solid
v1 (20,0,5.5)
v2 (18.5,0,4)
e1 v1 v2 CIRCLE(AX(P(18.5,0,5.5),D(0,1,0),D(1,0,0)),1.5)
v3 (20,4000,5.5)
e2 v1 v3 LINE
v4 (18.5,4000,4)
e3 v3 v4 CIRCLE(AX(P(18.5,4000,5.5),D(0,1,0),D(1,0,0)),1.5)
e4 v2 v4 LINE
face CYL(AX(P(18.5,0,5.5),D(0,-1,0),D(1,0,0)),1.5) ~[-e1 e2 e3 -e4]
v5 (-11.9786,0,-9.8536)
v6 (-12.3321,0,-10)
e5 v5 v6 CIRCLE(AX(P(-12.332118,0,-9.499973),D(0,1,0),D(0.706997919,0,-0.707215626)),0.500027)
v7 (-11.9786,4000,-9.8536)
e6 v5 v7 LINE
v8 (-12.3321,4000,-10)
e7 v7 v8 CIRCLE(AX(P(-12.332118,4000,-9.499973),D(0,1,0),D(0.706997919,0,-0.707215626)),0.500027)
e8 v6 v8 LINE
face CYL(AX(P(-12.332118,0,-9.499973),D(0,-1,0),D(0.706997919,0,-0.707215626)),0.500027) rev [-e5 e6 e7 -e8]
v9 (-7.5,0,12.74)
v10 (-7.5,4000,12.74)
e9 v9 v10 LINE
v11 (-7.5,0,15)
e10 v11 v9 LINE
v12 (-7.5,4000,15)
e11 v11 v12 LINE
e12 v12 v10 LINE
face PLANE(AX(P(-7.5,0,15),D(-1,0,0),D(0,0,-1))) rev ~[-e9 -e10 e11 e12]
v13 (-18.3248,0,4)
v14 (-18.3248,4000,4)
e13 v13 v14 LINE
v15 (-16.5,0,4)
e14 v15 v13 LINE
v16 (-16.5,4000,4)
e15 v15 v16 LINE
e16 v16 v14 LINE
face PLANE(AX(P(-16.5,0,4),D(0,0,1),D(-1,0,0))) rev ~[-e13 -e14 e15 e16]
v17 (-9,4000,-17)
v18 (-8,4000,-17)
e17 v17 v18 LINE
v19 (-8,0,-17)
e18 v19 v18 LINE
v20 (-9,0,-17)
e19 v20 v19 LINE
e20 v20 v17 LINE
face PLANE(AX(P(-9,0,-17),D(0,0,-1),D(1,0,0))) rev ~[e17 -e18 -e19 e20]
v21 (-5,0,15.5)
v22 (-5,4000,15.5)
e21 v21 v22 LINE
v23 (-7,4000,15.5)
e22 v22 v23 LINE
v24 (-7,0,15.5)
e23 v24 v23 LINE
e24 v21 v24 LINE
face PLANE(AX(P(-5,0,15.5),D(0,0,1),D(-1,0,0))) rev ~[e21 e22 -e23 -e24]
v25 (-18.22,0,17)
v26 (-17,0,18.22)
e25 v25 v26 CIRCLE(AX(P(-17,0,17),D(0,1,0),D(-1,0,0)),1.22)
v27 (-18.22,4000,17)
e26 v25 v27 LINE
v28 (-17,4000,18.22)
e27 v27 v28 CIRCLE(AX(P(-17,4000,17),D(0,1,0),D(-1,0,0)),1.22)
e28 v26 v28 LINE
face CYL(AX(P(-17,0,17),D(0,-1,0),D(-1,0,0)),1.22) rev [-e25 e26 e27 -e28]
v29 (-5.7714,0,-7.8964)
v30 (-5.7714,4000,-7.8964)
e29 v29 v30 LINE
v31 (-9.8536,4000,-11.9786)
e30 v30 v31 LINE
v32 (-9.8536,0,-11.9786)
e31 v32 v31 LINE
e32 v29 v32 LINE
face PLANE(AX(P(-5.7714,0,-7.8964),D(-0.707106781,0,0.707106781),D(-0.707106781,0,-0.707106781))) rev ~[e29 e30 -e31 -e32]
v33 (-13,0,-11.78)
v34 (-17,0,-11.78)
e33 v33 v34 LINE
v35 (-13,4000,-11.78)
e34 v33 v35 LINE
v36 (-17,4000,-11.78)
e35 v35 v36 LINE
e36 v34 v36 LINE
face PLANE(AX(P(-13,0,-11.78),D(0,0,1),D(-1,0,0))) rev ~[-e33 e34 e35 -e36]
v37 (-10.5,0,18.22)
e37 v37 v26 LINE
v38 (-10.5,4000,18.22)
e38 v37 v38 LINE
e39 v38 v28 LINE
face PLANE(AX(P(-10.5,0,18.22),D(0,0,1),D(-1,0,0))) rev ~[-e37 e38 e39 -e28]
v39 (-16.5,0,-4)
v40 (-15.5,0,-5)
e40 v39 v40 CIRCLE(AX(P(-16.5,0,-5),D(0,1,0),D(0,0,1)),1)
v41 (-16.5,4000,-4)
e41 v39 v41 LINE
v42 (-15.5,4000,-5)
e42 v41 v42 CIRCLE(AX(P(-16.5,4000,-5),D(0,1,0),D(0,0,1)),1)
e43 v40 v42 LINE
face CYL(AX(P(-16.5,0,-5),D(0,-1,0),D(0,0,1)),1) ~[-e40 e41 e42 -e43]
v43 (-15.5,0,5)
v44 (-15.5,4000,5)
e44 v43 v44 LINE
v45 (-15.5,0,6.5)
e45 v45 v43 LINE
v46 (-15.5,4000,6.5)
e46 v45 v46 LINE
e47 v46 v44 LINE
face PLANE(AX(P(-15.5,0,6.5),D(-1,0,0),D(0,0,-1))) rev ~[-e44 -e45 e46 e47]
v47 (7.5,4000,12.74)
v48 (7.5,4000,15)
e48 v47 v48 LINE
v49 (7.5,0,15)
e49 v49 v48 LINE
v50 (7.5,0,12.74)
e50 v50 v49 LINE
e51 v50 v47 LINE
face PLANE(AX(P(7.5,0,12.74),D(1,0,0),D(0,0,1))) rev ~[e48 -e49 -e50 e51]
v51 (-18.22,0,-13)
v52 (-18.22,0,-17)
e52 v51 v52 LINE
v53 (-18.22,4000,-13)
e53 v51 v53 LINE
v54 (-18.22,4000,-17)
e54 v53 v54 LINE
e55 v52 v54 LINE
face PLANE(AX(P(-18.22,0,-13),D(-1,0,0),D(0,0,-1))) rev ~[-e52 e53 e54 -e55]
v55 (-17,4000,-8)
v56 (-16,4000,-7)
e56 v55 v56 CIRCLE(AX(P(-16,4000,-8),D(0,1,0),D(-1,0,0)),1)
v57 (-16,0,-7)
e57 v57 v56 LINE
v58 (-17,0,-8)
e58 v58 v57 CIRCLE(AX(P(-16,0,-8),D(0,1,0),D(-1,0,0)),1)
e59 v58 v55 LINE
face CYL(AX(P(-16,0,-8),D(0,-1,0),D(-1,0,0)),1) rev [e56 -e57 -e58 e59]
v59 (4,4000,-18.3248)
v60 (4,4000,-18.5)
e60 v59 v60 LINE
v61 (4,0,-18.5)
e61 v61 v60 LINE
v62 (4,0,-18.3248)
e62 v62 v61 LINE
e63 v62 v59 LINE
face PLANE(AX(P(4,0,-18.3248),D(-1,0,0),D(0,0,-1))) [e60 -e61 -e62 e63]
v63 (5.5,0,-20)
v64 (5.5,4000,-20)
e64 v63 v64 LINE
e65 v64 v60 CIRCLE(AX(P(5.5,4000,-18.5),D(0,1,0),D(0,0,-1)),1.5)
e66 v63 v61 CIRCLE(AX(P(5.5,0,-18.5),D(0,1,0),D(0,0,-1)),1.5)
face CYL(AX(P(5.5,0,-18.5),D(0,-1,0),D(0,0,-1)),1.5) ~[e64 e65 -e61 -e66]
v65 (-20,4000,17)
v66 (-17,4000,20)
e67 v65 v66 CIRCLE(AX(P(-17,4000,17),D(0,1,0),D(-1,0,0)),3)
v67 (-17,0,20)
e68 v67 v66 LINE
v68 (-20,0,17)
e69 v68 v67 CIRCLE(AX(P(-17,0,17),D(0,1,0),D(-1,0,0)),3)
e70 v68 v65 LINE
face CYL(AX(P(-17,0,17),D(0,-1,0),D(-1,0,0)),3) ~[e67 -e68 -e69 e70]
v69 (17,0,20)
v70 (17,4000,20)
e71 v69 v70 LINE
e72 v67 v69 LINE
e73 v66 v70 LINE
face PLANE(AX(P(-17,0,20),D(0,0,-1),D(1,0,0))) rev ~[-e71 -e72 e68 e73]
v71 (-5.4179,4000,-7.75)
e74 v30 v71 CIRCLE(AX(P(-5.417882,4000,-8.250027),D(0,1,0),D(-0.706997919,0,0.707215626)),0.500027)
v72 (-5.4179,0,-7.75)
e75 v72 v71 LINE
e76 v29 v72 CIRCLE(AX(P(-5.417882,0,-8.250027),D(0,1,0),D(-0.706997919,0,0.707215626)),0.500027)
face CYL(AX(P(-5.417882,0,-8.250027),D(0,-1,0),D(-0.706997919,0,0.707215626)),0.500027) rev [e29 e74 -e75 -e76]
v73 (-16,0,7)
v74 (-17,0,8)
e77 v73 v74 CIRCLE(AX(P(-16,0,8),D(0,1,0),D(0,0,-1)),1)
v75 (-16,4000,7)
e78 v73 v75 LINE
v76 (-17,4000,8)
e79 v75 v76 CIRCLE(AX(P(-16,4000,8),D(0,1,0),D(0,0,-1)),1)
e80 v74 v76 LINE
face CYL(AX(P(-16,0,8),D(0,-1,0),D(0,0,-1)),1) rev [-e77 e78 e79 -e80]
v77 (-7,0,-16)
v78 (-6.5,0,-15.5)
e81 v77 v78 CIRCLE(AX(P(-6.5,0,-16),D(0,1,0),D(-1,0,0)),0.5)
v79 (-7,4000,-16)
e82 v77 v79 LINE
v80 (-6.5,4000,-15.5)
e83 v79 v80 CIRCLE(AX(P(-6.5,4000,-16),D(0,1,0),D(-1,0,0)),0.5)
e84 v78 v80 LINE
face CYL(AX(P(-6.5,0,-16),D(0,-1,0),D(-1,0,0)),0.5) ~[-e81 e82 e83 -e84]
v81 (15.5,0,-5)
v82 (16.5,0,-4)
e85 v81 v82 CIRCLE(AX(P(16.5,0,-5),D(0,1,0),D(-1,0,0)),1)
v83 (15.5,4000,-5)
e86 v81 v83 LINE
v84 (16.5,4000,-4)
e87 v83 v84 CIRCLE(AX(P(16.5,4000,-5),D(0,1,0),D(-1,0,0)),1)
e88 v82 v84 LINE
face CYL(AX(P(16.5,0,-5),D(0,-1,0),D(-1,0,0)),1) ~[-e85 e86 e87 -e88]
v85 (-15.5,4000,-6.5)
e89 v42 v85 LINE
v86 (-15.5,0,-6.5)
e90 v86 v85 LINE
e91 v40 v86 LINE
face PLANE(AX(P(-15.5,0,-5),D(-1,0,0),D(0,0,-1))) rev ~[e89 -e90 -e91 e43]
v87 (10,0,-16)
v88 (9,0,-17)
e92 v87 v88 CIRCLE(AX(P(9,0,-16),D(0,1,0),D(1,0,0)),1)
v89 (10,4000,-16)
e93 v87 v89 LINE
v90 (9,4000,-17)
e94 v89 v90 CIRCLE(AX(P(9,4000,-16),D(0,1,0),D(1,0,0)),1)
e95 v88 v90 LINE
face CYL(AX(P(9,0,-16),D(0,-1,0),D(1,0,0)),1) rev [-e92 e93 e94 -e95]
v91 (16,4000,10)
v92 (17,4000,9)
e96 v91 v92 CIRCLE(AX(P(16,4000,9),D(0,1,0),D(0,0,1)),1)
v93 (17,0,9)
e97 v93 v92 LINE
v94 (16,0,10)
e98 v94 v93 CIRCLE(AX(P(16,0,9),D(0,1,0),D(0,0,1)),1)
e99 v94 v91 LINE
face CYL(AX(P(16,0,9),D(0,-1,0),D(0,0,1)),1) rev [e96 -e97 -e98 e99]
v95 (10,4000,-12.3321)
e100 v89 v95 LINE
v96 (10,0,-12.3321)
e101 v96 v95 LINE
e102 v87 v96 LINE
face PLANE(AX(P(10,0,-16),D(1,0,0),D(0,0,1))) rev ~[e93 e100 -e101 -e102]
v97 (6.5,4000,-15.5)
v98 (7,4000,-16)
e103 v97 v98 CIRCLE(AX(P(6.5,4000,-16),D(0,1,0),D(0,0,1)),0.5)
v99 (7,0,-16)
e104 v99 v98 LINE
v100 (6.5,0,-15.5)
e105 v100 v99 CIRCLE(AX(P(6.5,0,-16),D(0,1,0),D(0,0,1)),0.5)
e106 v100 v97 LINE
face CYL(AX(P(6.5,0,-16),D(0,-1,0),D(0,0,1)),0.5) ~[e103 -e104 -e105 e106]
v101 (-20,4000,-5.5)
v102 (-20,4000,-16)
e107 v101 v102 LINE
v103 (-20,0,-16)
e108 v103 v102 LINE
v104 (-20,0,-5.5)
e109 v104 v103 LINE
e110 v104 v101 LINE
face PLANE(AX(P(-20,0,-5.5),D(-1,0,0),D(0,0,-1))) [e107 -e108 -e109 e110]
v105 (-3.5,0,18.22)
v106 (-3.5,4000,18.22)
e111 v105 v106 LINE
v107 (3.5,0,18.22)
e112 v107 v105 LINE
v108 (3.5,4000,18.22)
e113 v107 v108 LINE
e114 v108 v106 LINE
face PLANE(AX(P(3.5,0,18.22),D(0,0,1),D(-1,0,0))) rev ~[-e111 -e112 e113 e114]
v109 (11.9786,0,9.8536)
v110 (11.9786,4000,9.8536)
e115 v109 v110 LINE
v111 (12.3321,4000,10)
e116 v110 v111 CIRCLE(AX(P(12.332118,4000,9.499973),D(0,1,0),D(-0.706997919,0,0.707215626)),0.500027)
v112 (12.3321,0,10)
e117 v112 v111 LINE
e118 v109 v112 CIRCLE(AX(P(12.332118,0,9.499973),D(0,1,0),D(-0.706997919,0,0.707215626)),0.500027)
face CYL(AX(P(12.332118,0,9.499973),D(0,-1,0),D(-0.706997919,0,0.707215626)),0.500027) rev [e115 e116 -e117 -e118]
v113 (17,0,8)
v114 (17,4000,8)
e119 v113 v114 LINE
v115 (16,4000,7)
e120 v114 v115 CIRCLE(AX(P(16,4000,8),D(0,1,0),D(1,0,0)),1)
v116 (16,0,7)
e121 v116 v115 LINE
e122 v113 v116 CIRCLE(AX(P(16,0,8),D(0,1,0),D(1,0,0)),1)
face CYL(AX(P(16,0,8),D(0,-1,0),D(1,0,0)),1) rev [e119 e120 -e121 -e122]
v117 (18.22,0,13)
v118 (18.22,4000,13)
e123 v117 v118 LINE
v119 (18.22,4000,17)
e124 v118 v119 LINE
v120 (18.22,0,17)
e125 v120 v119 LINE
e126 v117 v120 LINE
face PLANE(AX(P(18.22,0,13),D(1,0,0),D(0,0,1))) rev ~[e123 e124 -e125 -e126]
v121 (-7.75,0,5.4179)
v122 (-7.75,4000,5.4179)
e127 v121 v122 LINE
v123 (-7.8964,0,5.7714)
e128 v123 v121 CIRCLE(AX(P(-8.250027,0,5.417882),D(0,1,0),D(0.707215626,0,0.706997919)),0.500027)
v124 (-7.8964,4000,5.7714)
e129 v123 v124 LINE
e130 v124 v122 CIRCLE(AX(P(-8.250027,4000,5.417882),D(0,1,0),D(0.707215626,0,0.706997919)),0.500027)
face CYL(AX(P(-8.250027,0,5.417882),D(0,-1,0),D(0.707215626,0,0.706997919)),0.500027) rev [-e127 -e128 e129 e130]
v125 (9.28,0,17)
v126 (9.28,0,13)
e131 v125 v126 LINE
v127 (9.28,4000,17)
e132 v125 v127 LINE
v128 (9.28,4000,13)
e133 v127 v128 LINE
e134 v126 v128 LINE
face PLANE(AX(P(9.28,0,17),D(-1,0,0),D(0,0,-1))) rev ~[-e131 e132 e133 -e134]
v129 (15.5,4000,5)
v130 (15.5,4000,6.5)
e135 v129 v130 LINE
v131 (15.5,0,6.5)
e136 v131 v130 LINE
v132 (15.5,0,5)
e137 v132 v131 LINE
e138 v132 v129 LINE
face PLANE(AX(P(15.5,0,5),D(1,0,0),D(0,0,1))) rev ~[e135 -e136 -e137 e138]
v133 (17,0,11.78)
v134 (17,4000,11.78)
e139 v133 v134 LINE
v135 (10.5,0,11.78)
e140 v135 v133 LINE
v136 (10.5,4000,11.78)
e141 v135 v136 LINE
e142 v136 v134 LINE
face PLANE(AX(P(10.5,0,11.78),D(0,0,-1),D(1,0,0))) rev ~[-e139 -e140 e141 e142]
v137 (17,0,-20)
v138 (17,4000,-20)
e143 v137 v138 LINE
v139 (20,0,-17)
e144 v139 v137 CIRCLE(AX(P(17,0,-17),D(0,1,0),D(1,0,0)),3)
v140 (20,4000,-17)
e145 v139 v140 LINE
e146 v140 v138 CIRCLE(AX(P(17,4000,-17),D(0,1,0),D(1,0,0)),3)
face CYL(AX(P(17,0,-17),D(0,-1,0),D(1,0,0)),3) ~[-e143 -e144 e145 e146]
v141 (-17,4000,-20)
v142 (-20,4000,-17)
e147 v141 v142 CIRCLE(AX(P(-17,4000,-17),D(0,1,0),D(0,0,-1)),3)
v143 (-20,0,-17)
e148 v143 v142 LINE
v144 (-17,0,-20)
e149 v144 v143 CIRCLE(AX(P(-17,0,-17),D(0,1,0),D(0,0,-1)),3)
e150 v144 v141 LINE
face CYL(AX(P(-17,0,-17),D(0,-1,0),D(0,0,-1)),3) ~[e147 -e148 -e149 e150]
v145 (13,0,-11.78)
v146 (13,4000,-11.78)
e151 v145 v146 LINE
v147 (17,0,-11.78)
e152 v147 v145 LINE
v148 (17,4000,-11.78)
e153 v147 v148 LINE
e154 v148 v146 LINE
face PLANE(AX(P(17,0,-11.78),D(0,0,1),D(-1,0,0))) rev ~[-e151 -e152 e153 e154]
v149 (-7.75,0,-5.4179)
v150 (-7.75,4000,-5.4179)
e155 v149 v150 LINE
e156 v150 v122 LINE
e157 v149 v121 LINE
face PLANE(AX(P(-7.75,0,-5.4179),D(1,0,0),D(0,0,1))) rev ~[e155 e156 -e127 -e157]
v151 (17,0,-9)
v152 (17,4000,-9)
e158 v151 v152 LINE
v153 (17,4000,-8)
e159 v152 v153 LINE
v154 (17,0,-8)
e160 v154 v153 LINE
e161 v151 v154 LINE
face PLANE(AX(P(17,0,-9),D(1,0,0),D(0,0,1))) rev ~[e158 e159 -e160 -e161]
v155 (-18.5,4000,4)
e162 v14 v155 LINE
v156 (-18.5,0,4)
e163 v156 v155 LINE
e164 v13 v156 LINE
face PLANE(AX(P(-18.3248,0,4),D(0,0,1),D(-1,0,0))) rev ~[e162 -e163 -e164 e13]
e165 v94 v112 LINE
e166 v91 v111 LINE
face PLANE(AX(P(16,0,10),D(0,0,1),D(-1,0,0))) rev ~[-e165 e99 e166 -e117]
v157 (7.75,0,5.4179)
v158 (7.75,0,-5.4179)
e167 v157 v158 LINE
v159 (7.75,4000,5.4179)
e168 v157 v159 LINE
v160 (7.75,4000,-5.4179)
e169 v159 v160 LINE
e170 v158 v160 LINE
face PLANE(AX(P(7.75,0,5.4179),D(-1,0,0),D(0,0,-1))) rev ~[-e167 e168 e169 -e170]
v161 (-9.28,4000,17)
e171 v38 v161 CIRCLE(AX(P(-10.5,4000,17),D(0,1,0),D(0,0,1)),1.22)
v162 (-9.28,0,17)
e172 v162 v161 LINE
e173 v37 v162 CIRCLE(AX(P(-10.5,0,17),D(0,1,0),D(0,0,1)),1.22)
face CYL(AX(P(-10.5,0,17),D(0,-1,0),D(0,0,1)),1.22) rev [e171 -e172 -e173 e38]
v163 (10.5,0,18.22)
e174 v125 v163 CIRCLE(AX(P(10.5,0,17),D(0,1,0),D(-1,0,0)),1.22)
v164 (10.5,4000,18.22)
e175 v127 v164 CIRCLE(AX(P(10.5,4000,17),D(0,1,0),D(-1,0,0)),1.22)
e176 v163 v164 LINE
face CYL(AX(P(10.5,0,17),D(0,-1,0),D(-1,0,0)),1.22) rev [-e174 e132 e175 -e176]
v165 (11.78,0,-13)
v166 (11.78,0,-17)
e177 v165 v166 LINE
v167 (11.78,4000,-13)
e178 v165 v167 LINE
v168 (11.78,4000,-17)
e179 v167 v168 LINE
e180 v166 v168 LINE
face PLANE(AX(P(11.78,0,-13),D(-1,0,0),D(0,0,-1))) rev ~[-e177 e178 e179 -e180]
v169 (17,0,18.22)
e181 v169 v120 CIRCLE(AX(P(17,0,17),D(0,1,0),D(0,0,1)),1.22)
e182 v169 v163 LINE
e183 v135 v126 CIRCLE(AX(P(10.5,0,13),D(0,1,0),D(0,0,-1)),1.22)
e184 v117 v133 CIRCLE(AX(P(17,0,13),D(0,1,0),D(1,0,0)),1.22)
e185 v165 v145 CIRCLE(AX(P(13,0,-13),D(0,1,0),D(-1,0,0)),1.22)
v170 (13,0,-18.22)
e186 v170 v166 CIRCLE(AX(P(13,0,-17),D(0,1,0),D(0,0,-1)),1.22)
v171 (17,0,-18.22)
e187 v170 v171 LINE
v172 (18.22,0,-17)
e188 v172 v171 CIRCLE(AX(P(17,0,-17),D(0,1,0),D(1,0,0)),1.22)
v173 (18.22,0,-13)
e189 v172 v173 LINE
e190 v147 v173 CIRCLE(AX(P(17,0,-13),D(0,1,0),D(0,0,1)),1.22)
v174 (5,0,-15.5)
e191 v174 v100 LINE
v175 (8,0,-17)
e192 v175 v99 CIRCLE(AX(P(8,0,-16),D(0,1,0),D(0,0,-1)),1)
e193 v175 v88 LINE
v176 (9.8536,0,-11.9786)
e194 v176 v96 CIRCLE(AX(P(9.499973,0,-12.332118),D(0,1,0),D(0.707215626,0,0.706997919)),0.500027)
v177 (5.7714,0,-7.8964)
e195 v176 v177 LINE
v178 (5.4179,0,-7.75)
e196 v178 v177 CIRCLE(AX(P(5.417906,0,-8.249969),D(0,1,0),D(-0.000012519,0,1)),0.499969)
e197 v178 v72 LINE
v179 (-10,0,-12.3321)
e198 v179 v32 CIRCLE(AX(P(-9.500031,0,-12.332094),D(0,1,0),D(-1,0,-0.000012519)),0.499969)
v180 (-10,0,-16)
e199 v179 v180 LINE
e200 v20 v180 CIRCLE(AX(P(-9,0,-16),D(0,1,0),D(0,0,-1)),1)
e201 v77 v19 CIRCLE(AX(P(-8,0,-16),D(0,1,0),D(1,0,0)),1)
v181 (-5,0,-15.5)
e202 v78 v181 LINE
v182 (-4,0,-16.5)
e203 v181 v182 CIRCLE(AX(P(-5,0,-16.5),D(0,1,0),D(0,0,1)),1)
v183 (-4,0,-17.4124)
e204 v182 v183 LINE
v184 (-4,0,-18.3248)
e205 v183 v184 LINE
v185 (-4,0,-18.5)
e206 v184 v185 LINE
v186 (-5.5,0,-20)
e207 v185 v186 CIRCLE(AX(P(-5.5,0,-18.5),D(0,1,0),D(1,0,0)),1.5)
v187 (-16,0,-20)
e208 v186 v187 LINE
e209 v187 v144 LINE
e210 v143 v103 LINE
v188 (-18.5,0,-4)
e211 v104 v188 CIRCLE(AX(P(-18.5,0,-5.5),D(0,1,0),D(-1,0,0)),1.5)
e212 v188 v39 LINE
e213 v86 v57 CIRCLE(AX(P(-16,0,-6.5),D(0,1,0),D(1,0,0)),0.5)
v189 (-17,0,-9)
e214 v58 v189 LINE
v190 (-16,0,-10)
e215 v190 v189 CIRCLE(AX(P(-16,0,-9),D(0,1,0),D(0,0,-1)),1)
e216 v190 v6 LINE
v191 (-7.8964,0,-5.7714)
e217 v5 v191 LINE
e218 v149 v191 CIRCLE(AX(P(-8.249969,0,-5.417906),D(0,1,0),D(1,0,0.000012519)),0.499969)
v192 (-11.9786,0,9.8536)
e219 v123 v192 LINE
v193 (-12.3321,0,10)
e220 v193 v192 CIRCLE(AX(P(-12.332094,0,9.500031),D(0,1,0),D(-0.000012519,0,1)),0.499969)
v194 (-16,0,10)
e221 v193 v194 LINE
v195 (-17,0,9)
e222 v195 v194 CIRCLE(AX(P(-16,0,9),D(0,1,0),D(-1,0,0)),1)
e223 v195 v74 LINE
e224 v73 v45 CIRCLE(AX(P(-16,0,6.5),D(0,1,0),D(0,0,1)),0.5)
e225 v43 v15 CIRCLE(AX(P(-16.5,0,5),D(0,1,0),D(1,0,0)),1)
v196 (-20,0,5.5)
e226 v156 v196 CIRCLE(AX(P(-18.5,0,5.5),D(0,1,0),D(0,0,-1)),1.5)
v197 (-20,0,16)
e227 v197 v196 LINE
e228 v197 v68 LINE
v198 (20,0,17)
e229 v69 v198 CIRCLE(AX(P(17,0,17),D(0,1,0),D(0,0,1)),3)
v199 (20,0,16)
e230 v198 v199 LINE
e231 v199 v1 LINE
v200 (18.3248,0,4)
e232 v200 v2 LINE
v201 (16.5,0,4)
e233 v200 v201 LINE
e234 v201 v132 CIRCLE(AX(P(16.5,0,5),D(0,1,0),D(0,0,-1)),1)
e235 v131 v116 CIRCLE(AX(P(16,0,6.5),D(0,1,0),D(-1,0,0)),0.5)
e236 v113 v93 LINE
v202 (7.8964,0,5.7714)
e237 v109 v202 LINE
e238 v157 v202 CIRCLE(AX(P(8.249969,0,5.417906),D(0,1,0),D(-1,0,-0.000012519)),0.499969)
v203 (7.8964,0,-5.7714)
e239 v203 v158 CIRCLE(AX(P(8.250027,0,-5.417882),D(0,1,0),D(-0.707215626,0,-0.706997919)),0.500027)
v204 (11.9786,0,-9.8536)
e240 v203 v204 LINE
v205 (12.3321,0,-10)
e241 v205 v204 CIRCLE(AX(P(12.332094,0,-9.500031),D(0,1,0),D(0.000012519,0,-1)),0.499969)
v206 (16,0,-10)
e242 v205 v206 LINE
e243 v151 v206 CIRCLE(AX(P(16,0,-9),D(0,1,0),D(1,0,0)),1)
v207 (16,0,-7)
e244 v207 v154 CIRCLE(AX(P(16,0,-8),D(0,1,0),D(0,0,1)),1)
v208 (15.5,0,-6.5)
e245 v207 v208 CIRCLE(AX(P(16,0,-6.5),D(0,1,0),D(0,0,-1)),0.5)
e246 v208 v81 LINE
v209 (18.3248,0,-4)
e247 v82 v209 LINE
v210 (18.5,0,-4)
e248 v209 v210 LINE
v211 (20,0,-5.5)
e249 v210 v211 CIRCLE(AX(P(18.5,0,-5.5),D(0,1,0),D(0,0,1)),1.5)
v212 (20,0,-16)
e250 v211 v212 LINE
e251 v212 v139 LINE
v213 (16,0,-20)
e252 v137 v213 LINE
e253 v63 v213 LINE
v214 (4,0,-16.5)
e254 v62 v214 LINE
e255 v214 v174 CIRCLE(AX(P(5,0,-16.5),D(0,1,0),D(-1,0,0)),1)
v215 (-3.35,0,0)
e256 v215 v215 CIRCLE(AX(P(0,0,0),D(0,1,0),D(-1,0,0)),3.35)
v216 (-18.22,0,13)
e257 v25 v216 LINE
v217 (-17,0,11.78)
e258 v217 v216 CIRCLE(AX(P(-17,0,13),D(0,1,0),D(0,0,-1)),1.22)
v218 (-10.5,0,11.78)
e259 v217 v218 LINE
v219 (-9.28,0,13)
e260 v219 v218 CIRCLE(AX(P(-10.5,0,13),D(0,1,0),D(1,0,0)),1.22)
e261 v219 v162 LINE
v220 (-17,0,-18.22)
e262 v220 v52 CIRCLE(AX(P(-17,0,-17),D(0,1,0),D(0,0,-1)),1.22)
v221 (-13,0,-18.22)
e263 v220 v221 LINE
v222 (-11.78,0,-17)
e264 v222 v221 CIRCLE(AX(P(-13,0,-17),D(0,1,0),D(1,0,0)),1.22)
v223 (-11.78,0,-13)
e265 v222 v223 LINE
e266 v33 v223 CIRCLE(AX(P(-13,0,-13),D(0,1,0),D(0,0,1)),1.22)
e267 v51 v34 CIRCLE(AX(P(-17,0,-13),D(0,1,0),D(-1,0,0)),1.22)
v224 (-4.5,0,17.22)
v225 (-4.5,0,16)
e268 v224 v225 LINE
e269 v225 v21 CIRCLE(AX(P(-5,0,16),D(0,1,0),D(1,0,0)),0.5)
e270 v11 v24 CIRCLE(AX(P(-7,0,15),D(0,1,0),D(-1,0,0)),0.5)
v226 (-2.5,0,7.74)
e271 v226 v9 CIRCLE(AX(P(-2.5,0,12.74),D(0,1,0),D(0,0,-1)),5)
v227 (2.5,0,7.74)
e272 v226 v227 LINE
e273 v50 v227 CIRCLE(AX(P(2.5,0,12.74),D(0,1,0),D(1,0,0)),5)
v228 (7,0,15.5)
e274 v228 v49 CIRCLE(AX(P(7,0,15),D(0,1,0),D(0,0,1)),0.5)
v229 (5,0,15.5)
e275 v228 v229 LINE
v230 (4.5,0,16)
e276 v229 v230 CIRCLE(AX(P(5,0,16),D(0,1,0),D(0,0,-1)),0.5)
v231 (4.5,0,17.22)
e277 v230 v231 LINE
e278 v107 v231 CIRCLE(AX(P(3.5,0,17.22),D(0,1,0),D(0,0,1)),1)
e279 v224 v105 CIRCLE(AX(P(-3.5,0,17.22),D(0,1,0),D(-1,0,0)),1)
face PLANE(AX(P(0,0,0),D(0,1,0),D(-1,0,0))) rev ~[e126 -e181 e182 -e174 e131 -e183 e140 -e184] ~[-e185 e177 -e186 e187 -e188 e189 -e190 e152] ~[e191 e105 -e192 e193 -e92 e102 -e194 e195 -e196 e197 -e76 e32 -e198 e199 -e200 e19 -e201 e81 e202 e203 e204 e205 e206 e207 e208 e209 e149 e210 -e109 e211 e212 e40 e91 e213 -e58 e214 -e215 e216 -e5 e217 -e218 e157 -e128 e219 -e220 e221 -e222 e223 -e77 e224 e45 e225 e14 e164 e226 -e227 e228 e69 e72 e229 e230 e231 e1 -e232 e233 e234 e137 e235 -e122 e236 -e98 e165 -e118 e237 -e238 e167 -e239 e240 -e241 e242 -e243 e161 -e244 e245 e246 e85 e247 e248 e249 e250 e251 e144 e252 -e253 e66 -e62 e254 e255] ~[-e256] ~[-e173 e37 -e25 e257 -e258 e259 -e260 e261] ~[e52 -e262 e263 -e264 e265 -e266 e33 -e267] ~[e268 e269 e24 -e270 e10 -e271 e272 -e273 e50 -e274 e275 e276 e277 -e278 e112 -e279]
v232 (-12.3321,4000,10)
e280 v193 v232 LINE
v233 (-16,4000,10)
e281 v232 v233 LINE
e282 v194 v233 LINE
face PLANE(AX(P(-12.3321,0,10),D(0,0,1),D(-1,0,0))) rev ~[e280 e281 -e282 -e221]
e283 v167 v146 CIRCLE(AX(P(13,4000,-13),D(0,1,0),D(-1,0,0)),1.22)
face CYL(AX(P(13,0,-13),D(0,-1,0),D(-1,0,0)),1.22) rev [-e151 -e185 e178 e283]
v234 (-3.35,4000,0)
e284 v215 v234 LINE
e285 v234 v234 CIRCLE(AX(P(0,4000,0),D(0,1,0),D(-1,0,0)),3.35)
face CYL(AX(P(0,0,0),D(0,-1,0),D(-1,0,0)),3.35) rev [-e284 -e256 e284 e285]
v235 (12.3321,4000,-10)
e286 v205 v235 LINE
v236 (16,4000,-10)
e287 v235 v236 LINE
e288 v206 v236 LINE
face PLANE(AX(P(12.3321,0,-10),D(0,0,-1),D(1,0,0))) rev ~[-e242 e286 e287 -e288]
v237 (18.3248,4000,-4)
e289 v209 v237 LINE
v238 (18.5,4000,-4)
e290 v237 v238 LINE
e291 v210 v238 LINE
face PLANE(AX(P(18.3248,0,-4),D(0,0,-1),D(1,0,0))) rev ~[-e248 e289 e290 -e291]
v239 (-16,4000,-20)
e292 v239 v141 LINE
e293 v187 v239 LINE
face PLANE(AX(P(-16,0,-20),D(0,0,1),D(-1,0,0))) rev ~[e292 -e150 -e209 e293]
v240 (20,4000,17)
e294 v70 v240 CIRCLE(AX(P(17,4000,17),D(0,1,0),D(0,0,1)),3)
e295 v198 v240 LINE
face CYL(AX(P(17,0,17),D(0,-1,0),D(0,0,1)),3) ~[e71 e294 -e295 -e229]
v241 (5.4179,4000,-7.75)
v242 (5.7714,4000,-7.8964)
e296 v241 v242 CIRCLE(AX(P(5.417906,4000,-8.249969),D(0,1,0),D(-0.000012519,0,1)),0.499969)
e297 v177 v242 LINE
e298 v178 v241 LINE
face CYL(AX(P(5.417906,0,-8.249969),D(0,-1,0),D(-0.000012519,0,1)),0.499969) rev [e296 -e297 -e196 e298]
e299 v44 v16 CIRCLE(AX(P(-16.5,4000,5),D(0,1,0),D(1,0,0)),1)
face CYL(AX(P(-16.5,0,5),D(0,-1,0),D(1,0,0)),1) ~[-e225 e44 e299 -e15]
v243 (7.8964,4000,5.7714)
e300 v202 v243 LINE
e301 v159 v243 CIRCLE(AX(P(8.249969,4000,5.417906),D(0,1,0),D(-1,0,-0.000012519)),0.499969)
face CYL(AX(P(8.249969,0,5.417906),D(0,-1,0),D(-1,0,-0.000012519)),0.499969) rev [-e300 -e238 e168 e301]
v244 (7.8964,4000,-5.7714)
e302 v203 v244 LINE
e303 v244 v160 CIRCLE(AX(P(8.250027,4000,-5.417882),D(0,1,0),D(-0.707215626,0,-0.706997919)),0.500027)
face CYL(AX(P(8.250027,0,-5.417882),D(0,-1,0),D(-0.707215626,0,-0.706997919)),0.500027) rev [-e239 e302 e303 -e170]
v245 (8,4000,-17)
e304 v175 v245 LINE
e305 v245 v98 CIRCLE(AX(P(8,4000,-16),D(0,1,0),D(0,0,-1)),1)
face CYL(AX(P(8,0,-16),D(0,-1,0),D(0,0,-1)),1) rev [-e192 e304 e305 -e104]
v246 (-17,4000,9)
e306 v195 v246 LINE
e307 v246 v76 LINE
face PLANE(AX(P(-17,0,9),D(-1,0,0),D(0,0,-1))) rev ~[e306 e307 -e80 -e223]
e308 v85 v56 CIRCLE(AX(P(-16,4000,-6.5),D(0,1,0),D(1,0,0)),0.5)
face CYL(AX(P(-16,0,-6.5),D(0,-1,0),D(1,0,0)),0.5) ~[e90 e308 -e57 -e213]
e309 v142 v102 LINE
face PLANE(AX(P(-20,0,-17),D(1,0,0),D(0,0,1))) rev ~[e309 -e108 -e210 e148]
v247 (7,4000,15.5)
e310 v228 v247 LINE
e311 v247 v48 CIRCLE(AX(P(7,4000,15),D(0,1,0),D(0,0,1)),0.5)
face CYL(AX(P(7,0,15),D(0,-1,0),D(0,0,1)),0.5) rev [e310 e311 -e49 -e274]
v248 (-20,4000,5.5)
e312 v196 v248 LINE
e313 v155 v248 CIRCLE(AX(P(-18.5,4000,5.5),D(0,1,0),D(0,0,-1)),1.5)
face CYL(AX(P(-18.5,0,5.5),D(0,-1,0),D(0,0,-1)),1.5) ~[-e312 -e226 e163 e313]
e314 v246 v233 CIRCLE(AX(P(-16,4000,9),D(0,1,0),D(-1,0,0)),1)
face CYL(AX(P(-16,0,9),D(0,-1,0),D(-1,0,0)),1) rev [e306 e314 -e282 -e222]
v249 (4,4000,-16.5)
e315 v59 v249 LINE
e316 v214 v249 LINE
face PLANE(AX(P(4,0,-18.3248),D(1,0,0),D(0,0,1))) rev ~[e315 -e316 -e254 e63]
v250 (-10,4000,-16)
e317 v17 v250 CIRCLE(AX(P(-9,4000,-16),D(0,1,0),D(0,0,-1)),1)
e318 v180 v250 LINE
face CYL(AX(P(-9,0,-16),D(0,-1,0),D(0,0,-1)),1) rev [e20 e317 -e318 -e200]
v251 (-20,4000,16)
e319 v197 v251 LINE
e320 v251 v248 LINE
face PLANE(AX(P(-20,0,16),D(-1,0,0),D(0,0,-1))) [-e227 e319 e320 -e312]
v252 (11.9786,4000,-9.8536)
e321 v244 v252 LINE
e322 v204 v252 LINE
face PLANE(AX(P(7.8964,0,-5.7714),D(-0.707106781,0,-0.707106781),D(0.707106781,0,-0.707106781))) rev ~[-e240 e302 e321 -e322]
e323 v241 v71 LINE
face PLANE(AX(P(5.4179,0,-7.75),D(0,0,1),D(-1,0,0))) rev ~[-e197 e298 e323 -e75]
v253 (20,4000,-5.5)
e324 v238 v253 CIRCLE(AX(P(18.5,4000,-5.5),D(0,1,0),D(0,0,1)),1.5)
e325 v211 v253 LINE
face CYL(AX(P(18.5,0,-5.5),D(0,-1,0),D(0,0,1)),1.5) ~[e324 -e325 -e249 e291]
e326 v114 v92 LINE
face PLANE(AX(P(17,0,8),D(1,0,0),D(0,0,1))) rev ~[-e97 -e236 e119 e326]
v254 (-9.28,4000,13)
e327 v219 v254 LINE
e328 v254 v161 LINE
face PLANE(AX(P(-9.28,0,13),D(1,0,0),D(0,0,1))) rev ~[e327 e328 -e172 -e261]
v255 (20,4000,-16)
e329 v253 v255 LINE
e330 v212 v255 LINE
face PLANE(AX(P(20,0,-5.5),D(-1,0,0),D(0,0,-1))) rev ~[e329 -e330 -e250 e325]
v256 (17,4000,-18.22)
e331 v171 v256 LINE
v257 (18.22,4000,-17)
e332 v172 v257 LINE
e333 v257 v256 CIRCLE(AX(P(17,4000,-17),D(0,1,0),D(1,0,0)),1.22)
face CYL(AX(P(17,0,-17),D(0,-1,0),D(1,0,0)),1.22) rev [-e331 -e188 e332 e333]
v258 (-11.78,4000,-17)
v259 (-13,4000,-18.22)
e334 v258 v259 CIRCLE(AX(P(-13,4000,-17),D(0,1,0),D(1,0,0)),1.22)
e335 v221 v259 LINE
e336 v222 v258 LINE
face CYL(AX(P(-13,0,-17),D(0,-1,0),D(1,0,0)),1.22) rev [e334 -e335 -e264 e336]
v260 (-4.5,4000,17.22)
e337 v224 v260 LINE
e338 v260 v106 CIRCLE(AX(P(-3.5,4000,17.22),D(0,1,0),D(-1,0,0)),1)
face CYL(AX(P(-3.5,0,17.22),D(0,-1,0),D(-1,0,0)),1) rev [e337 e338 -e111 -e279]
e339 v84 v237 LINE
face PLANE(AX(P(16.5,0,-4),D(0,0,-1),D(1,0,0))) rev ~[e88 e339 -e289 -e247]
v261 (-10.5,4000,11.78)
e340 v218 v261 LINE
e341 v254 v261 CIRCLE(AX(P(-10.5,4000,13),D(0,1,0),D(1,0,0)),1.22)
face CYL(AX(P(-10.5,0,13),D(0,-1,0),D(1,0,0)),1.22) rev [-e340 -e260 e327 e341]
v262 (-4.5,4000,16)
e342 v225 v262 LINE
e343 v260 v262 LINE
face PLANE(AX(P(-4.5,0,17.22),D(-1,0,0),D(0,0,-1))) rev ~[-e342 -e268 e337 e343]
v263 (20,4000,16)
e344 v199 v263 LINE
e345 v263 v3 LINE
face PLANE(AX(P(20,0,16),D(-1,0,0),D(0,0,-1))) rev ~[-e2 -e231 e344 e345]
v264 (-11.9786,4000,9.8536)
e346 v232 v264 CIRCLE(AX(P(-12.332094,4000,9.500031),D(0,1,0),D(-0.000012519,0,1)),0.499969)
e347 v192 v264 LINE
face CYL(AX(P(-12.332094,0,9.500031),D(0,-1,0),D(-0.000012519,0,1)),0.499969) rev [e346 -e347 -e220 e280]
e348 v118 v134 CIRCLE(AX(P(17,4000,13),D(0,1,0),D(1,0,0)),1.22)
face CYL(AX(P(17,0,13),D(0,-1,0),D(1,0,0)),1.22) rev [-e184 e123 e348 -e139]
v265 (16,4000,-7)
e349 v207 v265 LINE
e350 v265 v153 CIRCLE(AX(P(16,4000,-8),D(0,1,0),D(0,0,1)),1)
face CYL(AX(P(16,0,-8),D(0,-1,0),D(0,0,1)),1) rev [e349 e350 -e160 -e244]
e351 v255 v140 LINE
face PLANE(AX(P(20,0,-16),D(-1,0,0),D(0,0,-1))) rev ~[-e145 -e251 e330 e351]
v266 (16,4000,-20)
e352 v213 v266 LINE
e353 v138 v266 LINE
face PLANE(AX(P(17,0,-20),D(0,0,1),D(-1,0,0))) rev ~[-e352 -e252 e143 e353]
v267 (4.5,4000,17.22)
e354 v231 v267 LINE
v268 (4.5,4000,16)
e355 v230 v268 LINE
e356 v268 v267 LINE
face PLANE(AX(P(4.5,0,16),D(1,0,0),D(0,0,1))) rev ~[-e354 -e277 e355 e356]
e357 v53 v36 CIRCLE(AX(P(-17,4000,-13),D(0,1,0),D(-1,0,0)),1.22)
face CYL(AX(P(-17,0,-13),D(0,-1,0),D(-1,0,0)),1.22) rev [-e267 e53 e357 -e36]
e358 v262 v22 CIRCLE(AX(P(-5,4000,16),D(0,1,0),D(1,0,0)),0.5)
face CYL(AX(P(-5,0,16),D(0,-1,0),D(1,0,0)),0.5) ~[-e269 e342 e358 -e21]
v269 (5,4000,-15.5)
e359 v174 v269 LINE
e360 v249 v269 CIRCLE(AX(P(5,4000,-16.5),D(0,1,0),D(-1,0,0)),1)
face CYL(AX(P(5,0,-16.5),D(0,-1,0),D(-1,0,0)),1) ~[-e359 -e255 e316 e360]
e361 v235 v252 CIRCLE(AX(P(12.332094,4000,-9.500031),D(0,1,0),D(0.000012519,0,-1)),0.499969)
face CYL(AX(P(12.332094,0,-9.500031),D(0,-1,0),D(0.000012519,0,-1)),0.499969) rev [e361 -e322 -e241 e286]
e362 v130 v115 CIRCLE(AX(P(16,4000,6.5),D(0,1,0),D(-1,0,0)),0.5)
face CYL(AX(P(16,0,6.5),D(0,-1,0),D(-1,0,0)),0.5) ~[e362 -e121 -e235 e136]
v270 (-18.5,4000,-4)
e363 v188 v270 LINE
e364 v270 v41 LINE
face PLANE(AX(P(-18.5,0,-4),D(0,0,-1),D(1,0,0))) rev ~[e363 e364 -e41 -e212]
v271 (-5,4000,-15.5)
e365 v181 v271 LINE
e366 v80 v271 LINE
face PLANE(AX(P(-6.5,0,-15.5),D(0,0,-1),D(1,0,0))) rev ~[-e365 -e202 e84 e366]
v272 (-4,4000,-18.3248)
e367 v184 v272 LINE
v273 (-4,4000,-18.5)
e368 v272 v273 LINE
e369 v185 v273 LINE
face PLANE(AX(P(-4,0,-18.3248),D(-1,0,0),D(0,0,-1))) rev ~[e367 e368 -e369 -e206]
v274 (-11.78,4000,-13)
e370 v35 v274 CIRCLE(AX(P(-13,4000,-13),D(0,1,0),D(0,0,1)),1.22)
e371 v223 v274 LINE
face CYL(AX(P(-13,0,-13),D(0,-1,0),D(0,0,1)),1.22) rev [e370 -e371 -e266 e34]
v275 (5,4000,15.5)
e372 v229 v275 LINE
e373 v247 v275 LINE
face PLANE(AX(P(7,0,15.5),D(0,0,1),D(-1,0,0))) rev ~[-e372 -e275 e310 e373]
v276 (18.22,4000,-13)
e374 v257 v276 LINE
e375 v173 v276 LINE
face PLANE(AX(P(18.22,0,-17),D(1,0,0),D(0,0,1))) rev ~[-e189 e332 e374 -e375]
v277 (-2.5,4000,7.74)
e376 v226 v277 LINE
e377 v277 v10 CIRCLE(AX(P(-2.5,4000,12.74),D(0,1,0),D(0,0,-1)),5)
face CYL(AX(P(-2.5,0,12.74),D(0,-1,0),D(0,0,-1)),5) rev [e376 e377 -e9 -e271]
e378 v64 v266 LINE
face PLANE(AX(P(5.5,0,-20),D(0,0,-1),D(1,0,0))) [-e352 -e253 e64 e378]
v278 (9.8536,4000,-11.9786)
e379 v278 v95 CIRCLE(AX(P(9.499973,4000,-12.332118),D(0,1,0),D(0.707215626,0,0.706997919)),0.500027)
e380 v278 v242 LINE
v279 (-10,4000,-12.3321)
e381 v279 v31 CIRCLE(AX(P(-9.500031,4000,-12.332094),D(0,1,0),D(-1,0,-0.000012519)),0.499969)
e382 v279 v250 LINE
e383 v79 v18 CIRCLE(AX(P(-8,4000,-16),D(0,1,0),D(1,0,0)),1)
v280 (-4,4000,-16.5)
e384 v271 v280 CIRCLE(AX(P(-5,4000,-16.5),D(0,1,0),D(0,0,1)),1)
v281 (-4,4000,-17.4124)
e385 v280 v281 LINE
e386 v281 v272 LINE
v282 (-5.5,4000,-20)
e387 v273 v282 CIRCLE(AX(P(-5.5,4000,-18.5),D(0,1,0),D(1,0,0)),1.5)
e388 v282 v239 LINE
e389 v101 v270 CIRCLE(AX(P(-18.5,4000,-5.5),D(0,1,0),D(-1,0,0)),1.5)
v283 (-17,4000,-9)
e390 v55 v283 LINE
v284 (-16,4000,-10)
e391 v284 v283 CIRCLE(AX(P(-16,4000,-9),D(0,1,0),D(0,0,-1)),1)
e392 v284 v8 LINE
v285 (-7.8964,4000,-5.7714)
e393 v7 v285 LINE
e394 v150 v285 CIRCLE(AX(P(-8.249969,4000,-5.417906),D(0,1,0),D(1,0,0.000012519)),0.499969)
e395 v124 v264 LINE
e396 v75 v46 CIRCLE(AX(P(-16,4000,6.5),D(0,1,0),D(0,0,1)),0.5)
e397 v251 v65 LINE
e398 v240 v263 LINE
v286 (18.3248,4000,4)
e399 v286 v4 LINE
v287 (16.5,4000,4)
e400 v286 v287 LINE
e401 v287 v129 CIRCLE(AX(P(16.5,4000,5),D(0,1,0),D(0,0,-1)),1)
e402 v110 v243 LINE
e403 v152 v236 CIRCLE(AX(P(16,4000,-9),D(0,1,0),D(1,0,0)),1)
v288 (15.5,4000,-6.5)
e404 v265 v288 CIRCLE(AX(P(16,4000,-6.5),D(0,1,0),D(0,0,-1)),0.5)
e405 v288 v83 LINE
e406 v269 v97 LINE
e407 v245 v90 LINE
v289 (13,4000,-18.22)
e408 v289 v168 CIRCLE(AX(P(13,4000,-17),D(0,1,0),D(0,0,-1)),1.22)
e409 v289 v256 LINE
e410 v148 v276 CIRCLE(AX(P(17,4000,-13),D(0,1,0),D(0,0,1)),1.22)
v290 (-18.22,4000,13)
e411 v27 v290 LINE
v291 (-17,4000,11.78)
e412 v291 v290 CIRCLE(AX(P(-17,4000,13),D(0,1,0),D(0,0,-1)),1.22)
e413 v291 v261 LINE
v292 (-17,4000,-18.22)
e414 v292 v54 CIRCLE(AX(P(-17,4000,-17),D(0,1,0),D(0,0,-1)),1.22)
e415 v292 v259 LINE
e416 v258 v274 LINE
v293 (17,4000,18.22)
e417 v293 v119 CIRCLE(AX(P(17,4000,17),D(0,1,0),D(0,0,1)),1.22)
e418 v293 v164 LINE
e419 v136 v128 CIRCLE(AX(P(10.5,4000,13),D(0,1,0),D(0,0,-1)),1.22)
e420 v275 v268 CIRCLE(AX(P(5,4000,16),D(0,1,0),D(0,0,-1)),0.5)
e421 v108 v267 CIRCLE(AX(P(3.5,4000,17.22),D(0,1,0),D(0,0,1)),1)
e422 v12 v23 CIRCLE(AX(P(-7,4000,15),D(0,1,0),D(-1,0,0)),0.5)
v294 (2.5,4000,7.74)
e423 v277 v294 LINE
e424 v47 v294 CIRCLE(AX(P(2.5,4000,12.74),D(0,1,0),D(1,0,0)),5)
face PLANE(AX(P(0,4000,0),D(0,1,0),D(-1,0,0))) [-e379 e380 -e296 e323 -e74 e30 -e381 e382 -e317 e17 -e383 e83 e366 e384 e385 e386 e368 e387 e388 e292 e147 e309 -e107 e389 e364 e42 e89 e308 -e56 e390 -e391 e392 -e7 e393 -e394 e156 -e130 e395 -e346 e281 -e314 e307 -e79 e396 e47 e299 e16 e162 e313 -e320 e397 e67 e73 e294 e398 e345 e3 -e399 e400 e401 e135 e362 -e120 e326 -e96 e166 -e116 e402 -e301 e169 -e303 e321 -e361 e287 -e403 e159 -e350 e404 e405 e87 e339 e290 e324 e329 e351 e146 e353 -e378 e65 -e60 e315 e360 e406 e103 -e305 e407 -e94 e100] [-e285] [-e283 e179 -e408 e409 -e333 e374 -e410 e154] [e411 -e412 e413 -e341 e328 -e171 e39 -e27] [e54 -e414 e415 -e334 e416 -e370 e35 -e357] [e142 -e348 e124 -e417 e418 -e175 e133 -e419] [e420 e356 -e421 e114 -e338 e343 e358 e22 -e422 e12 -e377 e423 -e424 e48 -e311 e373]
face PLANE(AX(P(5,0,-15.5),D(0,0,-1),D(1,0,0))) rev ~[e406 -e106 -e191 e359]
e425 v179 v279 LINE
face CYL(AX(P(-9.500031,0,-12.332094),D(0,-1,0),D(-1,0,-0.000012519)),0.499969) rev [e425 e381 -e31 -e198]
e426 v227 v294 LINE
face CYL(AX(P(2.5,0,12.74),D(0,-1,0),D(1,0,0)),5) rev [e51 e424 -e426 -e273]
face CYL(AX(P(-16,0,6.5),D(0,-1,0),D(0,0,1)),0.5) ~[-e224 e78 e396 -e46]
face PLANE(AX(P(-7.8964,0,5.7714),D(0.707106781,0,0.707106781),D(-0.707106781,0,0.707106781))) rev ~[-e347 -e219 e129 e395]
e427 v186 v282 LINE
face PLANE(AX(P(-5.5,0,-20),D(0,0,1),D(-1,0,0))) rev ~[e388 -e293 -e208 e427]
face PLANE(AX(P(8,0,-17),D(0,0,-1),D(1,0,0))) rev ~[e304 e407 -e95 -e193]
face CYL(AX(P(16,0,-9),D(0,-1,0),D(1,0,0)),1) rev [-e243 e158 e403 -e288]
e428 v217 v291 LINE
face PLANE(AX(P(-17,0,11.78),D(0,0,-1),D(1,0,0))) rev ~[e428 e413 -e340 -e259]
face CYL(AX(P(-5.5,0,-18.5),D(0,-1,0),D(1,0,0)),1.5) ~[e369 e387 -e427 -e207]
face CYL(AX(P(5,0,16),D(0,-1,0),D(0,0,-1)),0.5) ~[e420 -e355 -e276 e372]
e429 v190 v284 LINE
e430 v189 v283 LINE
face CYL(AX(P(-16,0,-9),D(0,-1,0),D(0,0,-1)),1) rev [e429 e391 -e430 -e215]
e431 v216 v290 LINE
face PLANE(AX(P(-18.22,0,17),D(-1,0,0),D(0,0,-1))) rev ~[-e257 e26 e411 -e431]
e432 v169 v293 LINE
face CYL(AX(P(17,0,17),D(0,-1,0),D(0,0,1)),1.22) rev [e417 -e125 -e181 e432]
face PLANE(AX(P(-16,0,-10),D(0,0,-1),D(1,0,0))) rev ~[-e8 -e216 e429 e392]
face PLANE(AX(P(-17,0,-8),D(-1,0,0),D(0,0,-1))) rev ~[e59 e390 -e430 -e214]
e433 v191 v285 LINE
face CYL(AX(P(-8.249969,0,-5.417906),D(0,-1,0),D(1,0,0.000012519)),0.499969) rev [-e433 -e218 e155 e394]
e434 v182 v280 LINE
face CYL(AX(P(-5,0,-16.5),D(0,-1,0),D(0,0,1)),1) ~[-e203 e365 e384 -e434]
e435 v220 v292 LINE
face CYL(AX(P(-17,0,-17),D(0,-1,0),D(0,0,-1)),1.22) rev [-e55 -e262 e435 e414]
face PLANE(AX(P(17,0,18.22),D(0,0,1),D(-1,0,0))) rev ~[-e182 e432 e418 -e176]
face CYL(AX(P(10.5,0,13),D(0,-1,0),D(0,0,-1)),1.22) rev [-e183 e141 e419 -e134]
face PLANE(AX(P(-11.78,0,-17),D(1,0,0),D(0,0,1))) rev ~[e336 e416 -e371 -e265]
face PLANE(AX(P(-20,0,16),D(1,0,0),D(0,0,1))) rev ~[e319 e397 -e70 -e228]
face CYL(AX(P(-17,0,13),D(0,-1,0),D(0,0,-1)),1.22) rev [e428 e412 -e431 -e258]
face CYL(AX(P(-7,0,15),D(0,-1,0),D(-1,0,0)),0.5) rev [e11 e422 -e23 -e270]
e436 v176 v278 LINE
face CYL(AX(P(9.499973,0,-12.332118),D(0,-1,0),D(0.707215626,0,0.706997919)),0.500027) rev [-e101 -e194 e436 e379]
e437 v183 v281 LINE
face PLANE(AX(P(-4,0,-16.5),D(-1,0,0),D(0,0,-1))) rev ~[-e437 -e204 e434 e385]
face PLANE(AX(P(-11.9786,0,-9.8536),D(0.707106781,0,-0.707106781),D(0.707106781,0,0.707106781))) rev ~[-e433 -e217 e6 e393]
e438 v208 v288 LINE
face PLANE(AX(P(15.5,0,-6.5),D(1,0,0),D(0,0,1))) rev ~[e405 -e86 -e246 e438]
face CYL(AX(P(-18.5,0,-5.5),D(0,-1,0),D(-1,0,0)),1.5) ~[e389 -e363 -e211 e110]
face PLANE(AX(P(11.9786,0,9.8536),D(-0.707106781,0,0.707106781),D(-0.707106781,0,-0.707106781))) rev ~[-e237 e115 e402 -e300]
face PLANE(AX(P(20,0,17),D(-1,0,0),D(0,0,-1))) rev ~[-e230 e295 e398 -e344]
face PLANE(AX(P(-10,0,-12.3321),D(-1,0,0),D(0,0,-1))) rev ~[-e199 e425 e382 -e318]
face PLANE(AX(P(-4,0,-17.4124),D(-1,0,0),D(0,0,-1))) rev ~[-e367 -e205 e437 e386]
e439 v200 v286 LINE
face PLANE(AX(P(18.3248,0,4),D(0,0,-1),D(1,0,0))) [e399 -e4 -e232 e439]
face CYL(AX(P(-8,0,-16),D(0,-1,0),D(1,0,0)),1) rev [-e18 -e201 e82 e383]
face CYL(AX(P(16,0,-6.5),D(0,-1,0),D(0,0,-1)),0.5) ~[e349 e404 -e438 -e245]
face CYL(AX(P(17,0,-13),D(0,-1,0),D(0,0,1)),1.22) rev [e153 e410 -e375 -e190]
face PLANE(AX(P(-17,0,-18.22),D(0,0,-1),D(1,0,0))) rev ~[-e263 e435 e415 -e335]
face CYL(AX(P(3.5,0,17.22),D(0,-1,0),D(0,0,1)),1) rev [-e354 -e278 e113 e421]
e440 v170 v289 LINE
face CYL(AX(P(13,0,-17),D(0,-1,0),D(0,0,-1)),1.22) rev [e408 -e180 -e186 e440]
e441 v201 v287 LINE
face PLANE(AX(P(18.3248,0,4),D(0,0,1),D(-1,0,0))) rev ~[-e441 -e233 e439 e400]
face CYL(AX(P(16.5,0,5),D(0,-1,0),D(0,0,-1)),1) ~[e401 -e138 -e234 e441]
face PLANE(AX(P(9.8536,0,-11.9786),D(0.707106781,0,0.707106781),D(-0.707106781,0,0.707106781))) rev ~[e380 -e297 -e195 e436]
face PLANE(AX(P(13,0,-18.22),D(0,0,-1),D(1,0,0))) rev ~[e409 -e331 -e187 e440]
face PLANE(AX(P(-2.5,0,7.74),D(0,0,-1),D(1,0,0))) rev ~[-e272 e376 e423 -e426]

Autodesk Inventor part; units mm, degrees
ref_plane "YZ Plane" through (0, 0, 0) normal (1, 0, 0) x (0, 1, 0)
ref_plane "Start Plane" through (0, 0, 0) normal (0, 1, 0) x (-1, 0, 0)
ref_plane "End Plane" through (0, 100, 0) normal (0, 1, 0) x (-1, 0, 0)
sketch "Sketch1" plane through (0, 0, 0) normal (0, 1, 0) x (-1, 0, 0)
  arc A0 (20, 17) -> (17, 20) centre (17, 17) ccw
  line L0 (17, 20) -> (-17, 20)
  arc A1 (-17, 20) -> (-20, 17) centre (-17, 17) ccw
  line L1 (-20, 17) -> (-20, 16)
  line L2 (-18.3248, 4) -> (-16.5, 4)
  arc A2 (-16.5, 4) -> (-15.5, 5) centre (-16.5, 5) ccw
  line L3 (-15.5, 5) -> (-15.5, 6.5)
  arc A3 (-15.5, 6.5) -> (-16, 7) centre (-16, 6.5) ccw
  arc A4 (-17, 8) -> (-16, 7) centre (-16, 8) ccw
  line L4 (-17, 8) -> (-17, 9)
  arc A5 (-16, 10) -> (-17, 9) centre (-16, 9) ccw
  line L5 (-16, 10) -> (-12.3321, 10)
  arc A6 (-11.9786, 9.8536) -> (-12.3321, 10) centre (-12.3321, 9.5) ccw
  line L6 (-11.9786, 9.8536) -> (-7.8964, 5.7714)
  arc A7 (-7.75, 5.4179) -> (-7.8964, 5.7714) centre (-8.25, 5.4179) ccw
  line L7 (-7.75, 5.4179) -> (-7.75, -5.4179)
  arc A8 (-7.8964, -5.7714) -> (-7.75, -5.4179) centre (-8.25, -5.4179) ccw
  line L8 (-7.8964, -5.7714) -> (-11.9786, -9.8536)
  arc A9 (-12.3321, -10) -> (-11.9786, -9.8536) centre (-12.3321, -9.5) ccw
  line L9 (-12.3321, -10) -> (-16, -10)
  arc A10 (-17, -9) -> (-16, -10) centre (-16, -9) ccw
  line L10 (-17, -9) -> (-17, -8)
  arc A11 (-16, -7) -> (-17, -8) centre (-16, -8) ccw
  arc A12 (-16, -7) -> (-15.5, -6.5) centre (-16, -6.5) ccw
  line L11 (-15.5, -6.5) -> (-15.5, -5)
  arc A13 (-15.5, -5) -> (-16.5, -4) centre (-16.5, -5) ccw
  line L12 (-16.5, -4) -> (-18.3248, -4)
  line L13 (-20, -16) -> (-20, -17)
  line L14 (-17, -20) -> (-16, -20)
  arc A14 (-20, -17) -> (-17, -20) centre (-17, -17) ccw
  line L15 (-4, -18.3248) -> (-4, -16.5)
  arc A15 (-4, -16.5) -> (-5, -15.5) centre (-5, -16.5) ccw
  line L16 (-5, -15.5) -> (-6.5, -15.5)
  arc A16 (-6.5, -15.5) -> (-7, -16) centre (-6.5, -16) ccw
  arc A17 (-8, -17) -> (-7, -16) centre (-8, -16) ccw
  line L17 (-8, -17) -> (-9, -17)
  arc A18 (-10, -16) -> (-9, -17) centre (-9, -16) ccw
  line L18 (-10, -16) -> (-10, -12.3321)
  arc A19 (-9.8536, -11.9786) -> (-10, -12.3321) centre (-9.5, -12.3321) ccw
  line L19 (-9.8536, -11.9786) -> (-5.7714, -7.8964)
  arc A20 (-5.4179, -7.75) -> (-5.7714, -7.8964) centre (-5.4179, -8.25) ccw
  line L20 (-5.4179, -7.75) -> (5.4179, -7.75)
  arc A21 (5.7714, -7.8964) -> (5.4179, -7.75) centre (5.4179, -8.25) ccw
  line L21 (5.7714, -7.8964) -> (9.8536, -11.9786)
  arc A22 (10, -12.3321) -> (9.8536, -11.9786) centre (9.5, -12.3321) ccw
  line L22 (10, -12.3321) -> (10, -16)
  arc A23 (9, -17) -> (10, -16) centre (9, -16) ccw
  line L23 (9, -17) -> (8, -17)
  arc A24 (7, -16) -> (8, -17) centre (8, -16) ccw
  arc A25 (7, -16) -> (6.5, -15.5) centre (6.5, -16) ccw
  line L24 (6.5, -15.5) -> (5, -15.5)
  arc A26 (5, -15.5) -> (4, -16.5) centre (5, -16.5) ccw
  line L25 (4, -16.5) -> (4, -18.3248)
  line L26 (16, -20) -> (17, -20)
  line L27 (20, -17) -> (20, -16)
  line L28 (18.5, -4) -> (16.5, -4)
  arc A27 (16.5, -4) -> (15.5, -5) centre (16.5, -5) ccw
  line L29 (15.5, -5) -> (15.5, -6.5)
  arc A28 (15.5, -6.5) -> (16, -7) centre (16, -6.5) ccw
  arc A29 (17, -8) -> (16, -7) centre (16, -8) ccw
  line L30 (17, -8) -> (17, -9)
  arc A30 (16, -10) -> (17, -9) centre (16, -9) ccw
  line L31 (16, -10) -> (12.3321, -10)
  arc A31 (11.9786, -9.8536) -> (12.3321, -10) centre (12.3321, -9.5) ccw
  line L32 (11.9786, -9.8536) -> (7.8964, -5.7714)
  arc A32 (7.75, -5.4179) -> (7.8964, -5.7714) centre (8.25, -5.4179) ccw
  line L33 (7.75, -5.4179) -> (7.75, 5.4179)
  arc A33 (7.8964, 5.7714) -> (7.75, 5.4179) centre (8.25, 5.4179) ccw
  line L34 (7.8964, 5.7714) -> (11.9786, 9.8536)
  arc A34 (12.3321, 10) -> (11.9786, 9.8536) centre (12.3321, 9.5) ccw
  line L35 (12.3321, 10) -> (16, 10)
  arc A35 (17, 9) -> (16, 10) centre (16, 9) ccw
  line L36 (17, 9) -> (17, 8)
  arc A36 (16, 7) -> (17, 8) centre (16, 8) ccw
  arc A37 (16, 7) -> (15.5, 6.5) centre (16, 6.5) ccw
  line L37 (15.5, 6.5) -> (15.5, 5)
  arc A38 (15.5, 5) -> (16.5, 4) centre (16.5, 5) ccw
  line L38 (16.5, 4) -> (18.3248, 4)
  line L39 (20, 16) -> (20, 17)
  arc A39 (-5, 15.5) -> (-4.5, 16) centre (-5, 16) ccw
  line L40 (-4.5, 16) -> (-4.5, 17.22)
  arc A40 (-3.5, 18.22) -> (-4.5, 17.22) centre (-3.5, 17.22) ccw
  line L41 (-3.5, 18.22) -> (3.5, 18.22)
  arc A41 (4.5, 17.22) -> (3.5, 18.22) centre (3.5, 17.22) ccw
  line L42 (4.5, 17.22) -> (4.5, 16)
  arc A42 (4.5, 16) -> (5, 15.5) centre (5, 16) ccw
  line L43 (5, 15.5) -> (7, 15.5)
  arc A43 (7.5, 15) -> (7, 15.5) centre (7, 15) ccw
  line L44 (7.5, 15) -> (7.5, 12.74)
  arc A44 (2.5, 7.74) -> (7.5, 12.74) centre (2.5, 12.74) ccw
  line L45 (2.5, 7.74) -> (-2.5, 7.74)
  arc A45 (-7.5, 12.74) -> (-2.5, 7.74) centre (-2.5, 12.74) ccw
  line L46 (-7.5, 12.74) -> (-7.5, 15)
  arc A46 (-7, 15.5) -> (-7.5, 15) centre (-7, 15) ccw
  line L47 (-7, 15.5) -> (-5, 15.5)
  line L48 (18.22, -13) -> (18.22, -17)
  arc A47 (17, -18.22) -> (18.22, -17) centre (17, -17) ccw
  line L49 (17, -18.22) -> (13, -18.22)
  arc A48 (11.78, -17) -> (13, -18.22) centre (13, -17) ccw
  line L50 (11.78, -17) -> (11.78, -13)
  arc A49 (13, -11.78) -> (11.78, -13) centre (13, -13) ccw
  line L51 (13, -11.78) -> (17, -11.78)
  arc A50 (18.22, -13) -> (17, -11.78) centre (17, -13) ccw
  line L52 (18.22, 17) -> (18.22, 13)
  arc A51 (17, 11.78) -> (18.22, 13) centre (17, 13) ccw
  line L53 (17, 11.78) -> (10.5, 11.78)
  arc A52 (9.28, 13) -> (10.5, 11.78) centre (10.5, 13) ccw
  line L54 (9.28, 13) -> (9.28, 17)
  arc A53 (10.5, 18.22) -> (9.28, 17) centre (10.5, 17) ccw
  line L55 (10.5, 18.22) -> (17, 18.22)
  arc A54 (18.22, 17) -> (17, 18.22) centre (17, 17) ccw
  line L56 (-17, -11.78) -> (-13, -11.78)
  arc A55 (-11.78, -13) -> (-13, -11.78) centre (-13, -13) ccw
  line L57 (-11.78, -13) -> (-11.78, -17)
  arc A56 (-13, -18.22) -> (-11.78, -17) centre (-13, -17) ccw
  line L58 (-13, -18.22) -> (-17, -18.22)
  arc A57 (-18.22, -17) -> (-17, -18.22) centre (-17, -17) ccw
  line L59 (-18.22, -17) -> (-18.22, -13)
  arc A58 (-17, -11.78) -> (-18.22, -13) centre (-17, -13) ccw
  line L60 (-9.28, 17) -> (-9.28, 13)
  arc A59 (-10.5, 11.78) -> (-9.28, 13) centre (-10.5, 13) ccw
  line L61 (-10.5, 11.78) -> (-17, 11.78)
  arc A60 (-18.22, 13) -> (-17, 11.78) centre (-17, 13) ccw
  line L62 (-18.22, 13) -> (-18.22, 17)
  arc A61 (-17, 18.22) -> (-18.22, 17) centre (-17, 17) ccw
  line L63 (-17, 18.22) -> (-10.5, 18.22)
  arc A62 (-9.28, 17) -> (-10.5, 18.22) centre (-10.5, 17) ccw
  circle A63 centre (0, 0) radius 3.35
  line L64 (20, -5.5) -> (20, -17)
  arc A64 (20, -5.5) -> (18.5, -4) centre (18.5, -5.5) ccw
  line L65 (-20, -5.5) -> (-20, -17)
  arc A65 (-18.5, -4) -> (-20, -5.5) centre (-18.5, -5.5) ccw
  line L66 (-16.5, -4) -> (-18.5, -4)
  arc A66 (-5.5, -20) -> (-4, -18.5) centre (-5.5, -18.5) ccw
  line L67 (-4, -16.5) -> (-4, -18.5)
  line L68 (-5.5, -20) -> (-17, -20)
  line L69 (5.5, -20) -> (17, -20)
  arc A67 (4, -18.5) -> (5.5, -20) centre (5.5, -18.5) ccw
  arc A68 (17, -20) -> (20, -17) centre (17, -17) ccw
  line L70 (4, -17.4124) -> (4, -18.5)
  line L71 (20, 17) -> (20, 5.5)
  line L72 (16.5, 4) -> (18.5, 4)
  arc A69 (18.5, 4) -> (20, 5.5) centre (18.5, 5.5) ccw
  line L73 (-20, 17) -> (-20, 5.5)
  line L74 (-16.5, 4) -> (-18.5, 4)
  arc A70 (-20, 5.5) -> (-18.5, 4) centre (-18.5, 5.5) ccw
extrude "Body" add sketch "Sketch1" along normal blind 4000 from surface at 0
sketch "Sketch2" plane through (0, 0, 0) normal (0, 1, 0) x (-1, 0, 0)
  line L0 (0, 0) -> (10, 0)
ref_plane "Work Plane3" through (0, 0, 0) normal (0, 0, -1) x (-1, 0, 0)
sketch "Sketch3" plane through (0, 0, 0) normal (0, 0, -1) x (-1, 0, 0)
  line L0 (-2, 0) -> (12, 0)
  line L1 (-2, 100) -> (12, 100)
  dimension "d7" = 100
equation "\"d4\" = length"
equation "\"G_OFFSET_START\" = 0"
equation "\"G_OFFSET_END\" = 0"
equation "\"G_L\" = d7"
equation "\"length\" = 4000"
properties part number "10-340"
